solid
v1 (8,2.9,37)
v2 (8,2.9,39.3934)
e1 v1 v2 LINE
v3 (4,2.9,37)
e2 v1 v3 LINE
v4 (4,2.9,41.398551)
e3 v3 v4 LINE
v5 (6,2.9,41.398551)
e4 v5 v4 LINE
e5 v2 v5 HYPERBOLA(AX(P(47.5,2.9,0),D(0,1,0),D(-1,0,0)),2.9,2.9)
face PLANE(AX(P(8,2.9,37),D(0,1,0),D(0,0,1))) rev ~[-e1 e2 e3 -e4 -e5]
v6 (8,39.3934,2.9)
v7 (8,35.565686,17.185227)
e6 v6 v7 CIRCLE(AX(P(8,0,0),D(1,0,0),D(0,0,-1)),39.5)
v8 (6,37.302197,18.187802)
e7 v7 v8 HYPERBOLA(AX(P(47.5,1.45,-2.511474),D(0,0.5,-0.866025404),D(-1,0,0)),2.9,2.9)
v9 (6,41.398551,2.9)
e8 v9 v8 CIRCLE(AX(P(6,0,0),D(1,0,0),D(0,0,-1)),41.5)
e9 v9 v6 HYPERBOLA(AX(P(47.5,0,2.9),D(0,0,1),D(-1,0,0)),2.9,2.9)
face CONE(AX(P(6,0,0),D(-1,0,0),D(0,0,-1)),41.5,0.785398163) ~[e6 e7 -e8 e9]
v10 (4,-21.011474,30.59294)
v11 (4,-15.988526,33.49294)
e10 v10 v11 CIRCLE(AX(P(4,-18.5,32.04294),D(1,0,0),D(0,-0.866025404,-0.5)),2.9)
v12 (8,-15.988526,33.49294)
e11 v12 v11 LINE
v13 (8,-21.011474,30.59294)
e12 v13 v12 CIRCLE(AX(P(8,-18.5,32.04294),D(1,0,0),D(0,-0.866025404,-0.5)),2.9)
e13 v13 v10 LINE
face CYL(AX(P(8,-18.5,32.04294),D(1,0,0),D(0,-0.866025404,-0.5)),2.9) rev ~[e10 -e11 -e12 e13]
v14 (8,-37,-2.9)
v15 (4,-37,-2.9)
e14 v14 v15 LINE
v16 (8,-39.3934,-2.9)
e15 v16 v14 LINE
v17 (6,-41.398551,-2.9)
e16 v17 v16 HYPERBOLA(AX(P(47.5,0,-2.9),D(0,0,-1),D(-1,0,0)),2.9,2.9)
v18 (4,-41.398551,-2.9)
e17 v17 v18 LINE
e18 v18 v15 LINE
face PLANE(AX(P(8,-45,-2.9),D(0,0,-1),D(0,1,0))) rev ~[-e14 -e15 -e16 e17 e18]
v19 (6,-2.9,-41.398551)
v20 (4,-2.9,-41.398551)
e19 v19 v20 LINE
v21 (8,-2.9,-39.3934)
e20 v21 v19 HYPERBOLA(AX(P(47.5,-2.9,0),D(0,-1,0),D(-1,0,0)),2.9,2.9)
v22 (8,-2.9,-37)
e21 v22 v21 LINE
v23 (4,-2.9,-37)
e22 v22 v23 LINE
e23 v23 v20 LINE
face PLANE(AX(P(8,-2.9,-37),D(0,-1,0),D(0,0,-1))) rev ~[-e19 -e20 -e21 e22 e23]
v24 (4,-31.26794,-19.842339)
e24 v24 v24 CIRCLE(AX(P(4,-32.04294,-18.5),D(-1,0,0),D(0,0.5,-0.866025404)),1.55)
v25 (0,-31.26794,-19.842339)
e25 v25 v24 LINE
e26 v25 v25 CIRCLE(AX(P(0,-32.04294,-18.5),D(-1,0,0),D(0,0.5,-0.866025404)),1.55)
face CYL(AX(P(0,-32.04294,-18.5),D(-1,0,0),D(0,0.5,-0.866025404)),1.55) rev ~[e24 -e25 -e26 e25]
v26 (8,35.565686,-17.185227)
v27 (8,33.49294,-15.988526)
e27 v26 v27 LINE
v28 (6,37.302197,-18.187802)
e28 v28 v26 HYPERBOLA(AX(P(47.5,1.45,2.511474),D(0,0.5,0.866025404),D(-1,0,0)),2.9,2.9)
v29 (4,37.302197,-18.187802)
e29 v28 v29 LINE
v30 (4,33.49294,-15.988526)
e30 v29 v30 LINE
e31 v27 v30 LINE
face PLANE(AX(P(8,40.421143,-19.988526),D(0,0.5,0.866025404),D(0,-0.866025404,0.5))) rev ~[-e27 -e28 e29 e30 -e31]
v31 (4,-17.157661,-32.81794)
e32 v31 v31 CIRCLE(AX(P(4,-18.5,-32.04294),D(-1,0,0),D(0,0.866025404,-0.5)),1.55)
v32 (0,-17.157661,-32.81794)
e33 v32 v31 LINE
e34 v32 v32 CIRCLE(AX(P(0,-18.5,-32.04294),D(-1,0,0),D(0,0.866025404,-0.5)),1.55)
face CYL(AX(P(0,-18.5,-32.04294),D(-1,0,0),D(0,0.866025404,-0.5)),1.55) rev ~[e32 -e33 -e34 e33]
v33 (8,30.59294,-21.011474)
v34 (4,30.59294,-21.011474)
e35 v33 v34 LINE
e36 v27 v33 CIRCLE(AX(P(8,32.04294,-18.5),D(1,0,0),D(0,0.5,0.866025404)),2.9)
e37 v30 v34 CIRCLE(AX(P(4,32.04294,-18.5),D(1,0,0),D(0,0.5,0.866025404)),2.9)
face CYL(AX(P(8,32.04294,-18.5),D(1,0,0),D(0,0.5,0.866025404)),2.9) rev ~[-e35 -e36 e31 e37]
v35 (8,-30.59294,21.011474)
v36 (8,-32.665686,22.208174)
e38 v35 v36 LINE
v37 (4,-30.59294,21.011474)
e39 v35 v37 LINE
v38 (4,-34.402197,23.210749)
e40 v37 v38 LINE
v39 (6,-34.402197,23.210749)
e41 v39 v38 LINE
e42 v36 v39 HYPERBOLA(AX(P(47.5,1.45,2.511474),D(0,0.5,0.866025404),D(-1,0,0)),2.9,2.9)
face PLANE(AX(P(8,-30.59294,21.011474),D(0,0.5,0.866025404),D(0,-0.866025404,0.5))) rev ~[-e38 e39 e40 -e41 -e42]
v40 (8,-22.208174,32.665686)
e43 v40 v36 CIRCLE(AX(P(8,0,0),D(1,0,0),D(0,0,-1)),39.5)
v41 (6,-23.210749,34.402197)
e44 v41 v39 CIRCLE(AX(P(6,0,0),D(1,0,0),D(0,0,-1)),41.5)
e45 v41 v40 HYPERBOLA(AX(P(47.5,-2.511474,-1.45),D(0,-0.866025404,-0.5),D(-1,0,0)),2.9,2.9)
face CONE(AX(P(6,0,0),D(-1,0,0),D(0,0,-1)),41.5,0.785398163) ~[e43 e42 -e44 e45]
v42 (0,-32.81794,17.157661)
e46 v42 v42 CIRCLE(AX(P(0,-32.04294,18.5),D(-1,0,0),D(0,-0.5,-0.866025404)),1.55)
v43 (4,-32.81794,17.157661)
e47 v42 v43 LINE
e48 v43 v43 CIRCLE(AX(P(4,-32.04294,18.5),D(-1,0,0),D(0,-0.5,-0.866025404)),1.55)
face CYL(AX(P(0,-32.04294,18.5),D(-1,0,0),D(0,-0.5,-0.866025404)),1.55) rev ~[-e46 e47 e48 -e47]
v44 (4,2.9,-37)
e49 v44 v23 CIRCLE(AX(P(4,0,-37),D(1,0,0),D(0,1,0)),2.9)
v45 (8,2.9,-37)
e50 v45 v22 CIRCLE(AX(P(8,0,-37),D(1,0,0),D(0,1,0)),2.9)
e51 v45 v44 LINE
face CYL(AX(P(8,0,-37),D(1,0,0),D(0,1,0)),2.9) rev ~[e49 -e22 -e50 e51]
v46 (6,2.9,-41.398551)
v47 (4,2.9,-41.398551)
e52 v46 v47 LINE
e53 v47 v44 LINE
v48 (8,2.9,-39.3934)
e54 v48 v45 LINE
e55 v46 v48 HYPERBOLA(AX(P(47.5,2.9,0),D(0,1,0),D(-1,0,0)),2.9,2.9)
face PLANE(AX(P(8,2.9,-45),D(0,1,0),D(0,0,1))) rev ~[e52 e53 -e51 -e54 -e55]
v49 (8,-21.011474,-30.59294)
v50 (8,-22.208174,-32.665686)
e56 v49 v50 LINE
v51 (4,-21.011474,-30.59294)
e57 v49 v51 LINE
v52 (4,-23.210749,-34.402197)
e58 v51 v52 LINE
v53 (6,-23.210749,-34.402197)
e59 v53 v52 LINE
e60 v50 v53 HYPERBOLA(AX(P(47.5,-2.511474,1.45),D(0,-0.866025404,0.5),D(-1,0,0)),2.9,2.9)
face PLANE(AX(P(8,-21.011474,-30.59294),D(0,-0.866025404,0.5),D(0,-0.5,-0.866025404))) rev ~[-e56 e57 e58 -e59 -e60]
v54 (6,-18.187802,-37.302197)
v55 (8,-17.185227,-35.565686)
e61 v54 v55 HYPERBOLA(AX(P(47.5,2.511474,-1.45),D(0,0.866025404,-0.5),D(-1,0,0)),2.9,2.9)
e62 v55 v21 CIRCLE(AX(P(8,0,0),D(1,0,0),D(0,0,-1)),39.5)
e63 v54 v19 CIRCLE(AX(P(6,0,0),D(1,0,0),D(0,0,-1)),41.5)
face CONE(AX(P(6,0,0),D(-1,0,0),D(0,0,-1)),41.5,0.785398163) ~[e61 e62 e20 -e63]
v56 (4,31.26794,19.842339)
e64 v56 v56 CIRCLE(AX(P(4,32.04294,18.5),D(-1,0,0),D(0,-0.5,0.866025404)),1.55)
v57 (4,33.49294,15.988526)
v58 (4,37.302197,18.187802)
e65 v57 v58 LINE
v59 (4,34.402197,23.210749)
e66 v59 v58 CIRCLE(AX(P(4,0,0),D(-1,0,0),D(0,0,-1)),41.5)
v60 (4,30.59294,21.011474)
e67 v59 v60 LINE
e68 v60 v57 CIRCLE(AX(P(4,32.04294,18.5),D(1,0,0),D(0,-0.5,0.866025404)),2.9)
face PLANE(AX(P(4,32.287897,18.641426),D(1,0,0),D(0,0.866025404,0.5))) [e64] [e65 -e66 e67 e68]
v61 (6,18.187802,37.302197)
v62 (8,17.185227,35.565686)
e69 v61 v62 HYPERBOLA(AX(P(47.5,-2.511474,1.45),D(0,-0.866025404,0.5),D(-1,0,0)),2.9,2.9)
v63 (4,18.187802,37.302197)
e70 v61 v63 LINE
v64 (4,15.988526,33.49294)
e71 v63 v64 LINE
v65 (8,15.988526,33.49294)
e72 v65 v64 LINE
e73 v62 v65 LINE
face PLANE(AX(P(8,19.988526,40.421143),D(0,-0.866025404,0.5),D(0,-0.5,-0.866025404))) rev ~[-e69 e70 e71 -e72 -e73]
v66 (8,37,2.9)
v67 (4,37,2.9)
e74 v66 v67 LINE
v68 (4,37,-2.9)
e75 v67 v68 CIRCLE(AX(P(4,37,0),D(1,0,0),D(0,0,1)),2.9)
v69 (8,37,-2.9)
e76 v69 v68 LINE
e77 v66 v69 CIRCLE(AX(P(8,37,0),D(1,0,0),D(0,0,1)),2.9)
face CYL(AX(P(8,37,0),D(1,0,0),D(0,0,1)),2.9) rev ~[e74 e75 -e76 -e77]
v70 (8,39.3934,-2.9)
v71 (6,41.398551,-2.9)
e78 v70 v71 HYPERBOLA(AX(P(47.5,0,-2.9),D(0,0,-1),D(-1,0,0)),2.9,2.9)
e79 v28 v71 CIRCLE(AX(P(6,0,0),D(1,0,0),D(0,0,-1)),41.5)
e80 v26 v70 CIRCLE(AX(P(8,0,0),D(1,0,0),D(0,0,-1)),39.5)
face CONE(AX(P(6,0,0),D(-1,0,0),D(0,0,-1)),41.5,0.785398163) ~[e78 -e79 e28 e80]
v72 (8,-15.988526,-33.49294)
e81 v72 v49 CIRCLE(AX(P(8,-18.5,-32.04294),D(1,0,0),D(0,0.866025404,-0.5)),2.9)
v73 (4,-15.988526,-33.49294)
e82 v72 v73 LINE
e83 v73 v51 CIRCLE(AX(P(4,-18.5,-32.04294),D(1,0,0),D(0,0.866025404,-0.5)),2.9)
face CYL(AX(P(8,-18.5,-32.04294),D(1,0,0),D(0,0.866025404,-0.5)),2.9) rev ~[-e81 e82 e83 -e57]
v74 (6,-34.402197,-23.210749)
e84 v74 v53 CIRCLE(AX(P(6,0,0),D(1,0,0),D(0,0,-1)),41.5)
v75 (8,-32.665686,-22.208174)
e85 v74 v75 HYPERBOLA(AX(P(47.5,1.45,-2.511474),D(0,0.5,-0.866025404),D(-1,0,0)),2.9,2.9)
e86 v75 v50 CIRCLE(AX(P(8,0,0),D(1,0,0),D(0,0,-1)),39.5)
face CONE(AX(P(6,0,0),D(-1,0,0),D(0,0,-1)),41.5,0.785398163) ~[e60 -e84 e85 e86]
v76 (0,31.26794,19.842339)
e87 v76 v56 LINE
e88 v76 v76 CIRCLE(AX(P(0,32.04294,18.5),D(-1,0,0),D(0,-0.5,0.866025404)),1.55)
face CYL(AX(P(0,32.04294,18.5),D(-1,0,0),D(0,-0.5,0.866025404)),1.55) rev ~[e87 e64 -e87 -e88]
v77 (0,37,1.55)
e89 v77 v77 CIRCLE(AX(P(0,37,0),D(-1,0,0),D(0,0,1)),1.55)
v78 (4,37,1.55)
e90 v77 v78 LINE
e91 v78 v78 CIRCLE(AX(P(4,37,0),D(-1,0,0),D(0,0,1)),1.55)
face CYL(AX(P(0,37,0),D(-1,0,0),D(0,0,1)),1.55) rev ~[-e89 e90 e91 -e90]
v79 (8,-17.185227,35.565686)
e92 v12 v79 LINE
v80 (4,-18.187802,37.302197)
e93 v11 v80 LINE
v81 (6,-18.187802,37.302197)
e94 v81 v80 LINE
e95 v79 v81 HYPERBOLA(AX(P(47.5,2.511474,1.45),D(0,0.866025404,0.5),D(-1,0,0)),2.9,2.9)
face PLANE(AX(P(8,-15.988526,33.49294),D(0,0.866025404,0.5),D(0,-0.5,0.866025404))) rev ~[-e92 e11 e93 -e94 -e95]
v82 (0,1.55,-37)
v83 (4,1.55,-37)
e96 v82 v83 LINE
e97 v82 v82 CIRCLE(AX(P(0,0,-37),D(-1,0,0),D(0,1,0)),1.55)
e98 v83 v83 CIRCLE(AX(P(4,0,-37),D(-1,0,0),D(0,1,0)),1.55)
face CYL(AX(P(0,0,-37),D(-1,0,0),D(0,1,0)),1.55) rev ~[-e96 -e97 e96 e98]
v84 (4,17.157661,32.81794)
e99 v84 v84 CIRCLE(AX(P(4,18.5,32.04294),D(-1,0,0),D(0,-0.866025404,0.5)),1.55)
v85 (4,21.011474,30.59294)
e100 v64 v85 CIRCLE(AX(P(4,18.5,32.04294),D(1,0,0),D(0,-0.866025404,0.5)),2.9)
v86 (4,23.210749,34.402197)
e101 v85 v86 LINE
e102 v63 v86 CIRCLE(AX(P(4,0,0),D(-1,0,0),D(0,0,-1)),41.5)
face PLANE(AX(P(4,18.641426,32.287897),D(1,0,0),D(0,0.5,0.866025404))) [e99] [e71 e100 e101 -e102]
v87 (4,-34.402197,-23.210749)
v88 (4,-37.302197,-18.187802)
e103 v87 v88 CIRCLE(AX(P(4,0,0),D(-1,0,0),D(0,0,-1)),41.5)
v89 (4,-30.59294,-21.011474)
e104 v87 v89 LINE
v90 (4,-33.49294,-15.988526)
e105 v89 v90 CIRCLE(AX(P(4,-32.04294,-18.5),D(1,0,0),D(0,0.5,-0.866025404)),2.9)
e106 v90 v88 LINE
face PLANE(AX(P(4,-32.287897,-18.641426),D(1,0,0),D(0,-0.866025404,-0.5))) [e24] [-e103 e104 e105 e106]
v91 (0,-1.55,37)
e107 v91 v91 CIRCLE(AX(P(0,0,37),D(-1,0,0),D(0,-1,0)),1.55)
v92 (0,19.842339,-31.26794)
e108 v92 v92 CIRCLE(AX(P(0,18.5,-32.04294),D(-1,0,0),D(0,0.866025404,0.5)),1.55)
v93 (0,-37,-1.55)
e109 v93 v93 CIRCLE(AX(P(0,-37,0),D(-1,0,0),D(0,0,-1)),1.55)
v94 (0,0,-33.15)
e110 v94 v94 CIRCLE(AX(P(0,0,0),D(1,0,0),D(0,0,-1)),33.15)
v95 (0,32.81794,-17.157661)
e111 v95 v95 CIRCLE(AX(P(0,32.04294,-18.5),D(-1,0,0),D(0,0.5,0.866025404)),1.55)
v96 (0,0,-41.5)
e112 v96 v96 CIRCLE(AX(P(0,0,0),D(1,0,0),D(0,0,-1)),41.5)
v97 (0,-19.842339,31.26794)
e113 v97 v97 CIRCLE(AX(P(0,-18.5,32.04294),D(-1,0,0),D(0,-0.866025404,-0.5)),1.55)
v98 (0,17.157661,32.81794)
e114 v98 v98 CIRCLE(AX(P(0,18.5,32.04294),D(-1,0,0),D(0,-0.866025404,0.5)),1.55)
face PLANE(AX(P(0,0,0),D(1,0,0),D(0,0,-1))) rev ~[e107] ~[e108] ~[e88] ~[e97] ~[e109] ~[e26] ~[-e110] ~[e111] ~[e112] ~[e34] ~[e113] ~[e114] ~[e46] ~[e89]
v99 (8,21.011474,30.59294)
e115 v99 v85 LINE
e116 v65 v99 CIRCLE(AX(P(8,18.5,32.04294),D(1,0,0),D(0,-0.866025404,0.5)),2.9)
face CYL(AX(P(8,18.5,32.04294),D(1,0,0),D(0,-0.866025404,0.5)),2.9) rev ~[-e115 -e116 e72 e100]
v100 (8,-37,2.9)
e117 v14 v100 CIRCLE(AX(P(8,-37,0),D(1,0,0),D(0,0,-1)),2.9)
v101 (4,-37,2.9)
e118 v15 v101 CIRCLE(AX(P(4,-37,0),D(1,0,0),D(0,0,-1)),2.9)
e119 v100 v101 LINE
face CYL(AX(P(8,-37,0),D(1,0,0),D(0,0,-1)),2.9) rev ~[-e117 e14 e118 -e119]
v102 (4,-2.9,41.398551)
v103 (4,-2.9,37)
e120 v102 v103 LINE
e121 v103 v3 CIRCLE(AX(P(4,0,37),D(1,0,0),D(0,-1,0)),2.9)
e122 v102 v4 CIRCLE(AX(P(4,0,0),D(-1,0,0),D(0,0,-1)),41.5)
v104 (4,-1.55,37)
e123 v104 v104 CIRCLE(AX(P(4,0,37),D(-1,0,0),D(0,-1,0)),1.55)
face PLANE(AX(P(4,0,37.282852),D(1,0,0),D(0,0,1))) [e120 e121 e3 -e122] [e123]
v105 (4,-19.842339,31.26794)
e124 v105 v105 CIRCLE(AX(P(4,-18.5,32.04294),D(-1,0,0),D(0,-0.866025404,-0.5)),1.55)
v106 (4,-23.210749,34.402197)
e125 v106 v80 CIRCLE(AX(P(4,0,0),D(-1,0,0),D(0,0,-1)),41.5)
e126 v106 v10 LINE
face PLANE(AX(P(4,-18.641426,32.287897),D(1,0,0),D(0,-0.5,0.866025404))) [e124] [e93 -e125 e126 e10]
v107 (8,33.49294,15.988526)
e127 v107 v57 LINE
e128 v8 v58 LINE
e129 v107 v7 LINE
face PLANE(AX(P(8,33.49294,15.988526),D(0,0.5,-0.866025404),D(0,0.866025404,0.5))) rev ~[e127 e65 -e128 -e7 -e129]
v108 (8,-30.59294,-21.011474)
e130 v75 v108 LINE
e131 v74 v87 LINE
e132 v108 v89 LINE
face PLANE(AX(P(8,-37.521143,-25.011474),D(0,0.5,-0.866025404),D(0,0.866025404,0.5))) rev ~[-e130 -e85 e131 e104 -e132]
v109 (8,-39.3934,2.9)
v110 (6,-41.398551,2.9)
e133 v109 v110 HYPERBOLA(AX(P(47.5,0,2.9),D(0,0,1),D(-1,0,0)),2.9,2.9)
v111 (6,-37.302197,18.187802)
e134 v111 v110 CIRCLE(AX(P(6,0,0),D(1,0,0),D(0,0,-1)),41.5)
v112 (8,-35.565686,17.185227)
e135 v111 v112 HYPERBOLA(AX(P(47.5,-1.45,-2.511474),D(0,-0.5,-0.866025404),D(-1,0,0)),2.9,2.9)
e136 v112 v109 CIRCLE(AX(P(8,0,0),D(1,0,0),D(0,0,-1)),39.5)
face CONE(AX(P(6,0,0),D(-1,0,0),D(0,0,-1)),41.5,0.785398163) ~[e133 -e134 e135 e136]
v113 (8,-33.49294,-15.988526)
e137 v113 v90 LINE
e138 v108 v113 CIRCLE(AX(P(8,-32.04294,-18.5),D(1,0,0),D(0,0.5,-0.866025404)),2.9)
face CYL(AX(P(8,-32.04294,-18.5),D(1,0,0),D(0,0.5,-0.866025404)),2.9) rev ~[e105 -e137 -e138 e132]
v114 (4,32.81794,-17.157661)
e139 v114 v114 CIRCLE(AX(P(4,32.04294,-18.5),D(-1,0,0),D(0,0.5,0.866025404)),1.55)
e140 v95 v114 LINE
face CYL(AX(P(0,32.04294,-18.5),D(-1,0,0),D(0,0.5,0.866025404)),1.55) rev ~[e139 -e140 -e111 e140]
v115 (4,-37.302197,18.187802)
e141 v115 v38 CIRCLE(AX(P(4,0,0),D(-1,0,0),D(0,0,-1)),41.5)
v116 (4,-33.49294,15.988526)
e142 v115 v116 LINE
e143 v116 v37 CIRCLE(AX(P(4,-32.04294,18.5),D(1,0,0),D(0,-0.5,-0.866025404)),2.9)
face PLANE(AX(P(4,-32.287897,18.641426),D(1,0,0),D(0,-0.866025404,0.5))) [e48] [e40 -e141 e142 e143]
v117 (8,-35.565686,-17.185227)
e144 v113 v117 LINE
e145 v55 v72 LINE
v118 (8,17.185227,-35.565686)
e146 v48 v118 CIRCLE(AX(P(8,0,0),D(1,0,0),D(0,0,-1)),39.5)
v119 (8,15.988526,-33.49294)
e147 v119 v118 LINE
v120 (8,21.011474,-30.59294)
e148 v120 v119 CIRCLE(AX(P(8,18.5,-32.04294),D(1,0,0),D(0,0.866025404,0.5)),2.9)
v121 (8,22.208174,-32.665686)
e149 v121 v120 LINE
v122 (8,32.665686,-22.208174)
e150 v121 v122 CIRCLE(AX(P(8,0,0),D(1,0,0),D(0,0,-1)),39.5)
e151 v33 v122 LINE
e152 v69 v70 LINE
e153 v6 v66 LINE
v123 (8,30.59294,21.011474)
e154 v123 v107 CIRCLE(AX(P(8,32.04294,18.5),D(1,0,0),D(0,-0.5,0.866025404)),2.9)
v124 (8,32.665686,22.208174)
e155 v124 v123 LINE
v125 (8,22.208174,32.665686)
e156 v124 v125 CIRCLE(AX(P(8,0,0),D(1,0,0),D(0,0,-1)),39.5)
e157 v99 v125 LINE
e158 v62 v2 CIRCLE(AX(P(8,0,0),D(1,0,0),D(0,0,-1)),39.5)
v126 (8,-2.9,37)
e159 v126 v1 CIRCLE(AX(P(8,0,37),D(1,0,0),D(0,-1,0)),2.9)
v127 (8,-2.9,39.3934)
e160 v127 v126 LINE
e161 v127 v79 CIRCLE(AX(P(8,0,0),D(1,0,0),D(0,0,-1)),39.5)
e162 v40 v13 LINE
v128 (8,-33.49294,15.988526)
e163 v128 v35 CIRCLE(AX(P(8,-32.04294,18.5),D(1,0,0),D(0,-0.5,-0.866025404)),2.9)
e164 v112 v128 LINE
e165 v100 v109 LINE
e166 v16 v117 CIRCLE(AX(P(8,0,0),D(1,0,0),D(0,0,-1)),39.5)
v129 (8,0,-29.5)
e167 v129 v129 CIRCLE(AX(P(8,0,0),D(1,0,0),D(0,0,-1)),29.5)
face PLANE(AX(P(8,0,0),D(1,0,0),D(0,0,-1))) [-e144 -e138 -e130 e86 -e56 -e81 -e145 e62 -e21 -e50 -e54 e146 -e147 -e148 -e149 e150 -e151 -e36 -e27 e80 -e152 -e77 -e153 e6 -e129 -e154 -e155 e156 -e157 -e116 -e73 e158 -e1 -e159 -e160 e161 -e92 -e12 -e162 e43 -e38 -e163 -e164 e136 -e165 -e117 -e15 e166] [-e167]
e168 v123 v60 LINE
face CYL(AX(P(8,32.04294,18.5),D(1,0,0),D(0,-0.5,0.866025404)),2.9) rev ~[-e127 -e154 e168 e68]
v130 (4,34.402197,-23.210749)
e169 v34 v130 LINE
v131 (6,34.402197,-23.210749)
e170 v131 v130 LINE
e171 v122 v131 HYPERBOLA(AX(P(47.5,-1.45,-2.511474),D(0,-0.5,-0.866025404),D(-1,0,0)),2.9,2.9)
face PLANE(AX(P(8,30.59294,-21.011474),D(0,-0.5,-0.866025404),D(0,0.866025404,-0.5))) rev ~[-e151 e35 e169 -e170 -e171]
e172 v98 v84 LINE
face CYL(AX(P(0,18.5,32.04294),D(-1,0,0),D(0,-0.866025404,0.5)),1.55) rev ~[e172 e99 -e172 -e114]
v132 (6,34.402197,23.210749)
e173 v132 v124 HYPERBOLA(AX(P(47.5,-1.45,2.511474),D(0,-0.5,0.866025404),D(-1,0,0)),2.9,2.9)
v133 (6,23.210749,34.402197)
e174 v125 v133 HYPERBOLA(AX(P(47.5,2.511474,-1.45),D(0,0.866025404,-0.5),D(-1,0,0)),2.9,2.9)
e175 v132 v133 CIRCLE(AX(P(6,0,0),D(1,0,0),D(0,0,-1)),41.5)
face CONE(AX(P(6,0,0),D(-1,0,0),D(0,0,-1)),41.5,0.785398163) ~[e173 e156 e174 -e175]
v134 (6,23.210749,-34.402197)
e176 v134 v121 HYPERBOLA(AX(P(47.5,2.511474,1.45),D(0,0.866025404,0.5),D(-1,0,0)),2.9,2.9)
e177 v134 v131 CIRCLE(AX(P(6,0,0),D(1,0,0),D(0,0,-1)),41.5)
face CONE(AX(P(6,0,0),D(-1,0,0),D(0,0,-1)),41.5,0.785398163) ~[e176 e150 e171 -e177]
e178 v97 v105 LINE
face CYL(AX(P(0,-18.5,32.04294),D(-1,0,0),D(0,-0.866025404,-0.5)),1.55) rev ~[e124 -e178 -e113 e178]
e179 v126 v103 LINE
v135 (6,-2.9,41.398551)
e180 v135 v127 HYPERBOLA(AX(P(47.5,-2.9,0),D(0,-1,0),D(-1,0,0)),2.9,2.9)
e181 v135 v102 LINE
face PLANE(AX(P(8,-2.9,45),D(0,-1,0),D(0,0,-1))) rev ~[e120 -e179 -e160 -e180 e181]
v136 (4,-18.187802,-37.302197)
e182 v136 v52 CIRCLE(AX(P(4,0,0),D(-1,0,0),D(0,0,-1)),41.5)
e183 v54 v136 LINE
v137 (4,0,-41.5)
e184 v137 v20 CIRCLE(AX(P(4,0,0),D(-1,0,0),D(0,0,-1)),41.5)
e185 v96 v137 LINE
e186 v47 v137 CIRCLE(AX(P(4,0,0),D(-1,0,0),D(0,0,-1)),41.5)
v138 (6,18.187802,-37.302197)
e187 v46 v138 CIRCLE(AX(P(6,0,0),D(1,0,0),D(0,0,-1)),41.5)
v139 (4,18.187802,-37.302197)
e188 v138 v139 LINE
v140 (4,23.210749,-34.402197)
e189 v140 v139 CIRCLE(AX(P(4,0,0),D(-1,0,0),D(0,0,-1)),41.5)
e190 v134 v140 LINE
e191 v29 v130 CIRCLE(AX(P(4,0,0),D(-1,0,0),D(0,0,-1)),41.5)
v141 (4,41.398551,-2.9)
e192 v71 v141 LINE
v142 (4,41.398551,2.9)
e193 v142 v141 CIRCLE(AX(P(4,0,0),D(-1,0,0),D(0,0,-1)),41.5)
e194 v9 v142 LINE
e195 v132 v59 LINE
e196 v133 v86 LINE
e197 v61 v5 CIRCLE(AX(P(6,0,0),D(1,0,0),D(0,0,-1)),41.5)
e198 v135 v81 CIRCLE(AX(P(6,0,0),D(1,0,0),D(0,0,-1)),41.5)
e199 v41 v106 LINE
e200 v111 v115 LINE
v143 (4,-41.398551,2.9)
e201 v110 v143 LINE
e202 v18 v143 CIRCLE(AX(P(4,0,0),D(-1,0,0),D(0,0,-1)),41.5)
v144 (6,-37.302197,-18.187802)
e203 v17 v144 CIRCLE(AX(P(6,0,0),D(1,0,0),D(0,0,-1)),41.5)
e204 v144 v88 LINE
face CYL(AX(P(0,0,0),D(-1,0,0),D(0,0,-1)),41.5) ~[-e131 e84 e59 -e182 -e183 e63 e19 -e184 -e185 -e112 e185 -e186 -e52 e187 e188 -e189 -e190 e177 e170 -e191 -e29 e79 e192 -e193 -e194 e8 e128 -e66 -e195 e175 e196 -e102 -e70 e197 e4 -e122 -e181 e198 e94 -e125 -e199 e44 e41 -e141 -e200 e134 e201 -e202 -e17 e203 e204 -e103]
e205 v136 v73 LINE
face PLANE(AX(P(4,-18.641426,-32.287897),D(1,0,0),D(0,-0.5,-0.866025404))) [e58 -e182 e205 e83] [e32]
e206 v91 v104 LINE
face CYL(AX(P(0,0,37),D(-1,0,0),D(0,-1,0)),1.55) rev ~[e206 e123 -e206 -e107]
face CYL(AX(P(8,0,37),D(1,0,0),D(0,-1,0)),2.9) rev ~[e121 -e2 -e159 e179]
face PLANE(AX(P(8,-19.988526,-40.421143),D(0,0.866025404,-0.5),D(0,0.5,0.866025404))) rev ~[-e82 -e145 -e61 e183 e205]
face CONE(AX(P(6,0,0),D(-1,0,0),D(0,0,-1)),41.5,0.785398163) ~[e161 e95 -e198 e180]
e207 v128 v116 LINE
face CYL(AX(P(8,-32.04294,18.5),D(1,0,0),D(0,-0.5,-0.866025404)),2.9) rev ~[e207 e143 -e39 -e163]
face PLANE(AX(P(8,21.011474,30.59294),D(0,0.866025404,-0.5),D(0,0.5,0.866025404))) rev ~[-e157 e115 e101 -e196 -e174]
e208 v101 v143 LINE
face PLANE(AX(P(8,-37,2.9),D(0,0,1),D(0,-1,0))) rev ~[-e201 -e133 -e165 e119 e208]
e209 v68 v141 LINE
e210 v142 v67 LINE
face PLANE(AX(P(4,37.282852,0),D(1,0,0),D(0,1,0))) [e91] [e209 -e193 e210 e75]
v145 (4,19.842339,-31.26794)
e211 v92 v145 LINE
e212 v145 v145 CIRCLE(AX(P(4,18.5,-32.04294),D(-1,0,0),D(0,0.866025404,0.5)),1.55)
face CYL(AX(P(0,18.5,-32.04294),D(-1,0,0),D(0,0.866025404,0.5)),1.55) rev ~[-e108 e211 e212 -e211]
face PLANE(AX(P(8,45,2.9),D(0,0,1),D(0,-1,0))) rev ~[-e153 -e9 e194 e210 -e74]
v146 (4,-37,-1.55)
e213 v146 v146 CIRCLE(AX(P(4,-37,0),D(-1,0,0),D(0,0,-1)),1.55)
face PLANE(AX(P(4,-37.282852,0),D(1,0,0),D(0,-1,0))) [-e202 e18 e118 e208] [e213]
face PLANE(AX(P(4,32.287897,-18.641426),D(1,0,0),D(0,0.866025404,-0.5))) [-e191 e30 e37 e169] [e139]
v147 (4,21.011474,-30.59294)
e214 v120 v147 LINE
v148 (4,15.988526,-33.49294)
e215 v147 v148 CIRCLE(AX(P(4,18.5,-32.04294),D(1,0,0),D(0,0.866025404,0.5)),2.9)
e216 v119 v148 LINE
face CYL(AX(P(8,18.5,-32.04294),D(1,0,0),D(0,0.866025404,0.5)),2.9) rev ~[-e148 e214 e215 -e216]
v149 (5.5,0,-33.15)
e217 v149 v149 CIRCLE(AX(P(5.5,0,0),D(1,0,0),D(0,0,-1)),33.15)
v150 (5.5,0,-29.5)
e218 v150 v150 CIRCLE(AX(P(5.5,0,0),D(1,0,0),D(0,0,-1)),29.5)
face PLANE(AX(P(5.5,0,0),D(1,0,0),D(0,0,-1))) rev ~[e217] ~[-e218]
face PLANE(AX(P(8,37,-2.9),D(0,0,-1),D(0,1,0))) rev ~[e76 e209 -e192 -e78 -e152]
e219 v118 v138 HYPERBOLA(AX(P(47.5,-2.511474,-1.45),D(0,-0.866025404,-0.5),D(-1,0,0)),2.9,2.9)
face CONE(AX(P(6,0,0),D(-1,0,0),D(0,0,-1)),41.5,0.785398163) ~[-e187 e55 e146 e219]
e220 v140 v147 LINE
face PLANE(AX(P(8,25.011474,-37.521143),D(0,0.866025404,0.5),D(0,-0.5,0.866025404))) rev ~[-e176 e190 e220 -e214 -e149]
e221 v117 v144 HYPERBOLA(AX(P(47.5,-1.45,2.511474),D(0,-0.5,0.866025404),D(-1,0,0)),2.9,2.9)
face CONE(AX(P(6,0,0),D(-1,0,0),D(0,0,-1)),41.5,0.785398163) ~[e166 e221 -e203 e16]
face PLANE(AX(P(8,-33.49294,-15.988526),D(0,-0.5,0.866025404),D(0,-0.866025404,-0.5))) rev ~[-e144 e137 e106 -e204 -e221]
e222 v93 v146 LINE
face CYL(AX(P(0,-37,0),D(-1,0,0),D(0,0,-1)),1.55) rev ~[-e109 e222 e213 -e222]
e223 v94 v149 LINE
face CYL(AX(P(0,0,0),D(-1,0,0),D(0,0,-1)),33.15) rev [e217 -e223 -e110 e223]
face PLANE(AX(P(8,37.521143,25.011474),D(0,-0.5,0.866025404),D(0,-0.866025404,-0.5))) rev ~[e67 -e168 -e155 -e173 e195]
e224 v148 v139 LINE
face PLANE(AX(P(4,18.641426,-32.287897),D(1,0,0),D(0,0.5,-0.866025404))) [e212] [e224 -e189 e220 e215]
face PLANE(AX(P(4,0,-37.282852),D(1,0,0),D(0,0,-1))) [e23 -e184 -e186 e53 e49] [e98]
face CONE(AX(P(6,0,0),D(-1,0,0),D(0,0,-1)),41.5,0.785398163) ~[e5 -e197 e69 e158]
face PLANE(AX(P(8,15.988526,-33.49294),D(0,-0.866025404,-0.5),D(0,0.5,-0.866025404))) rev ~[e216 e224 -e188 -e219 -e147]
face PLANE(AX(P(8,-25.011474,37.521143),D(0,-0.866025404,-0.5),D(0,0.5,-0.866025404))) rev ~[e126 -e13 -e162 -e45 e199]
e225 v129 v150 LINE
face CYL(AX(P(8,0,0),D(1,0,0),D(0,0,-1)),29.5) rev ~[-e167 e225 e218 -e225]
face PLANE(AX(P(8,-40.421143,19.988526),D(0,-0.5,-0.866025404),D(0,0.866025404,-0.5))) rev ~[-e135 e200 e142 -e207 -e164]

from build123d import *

# Parameters (mm, degrees)
SKETCH_1_R               = 41.5
SKETCH_1_R_2             = 33.15
EXTRUDE_1_DEPTH          = 8
SKETCH_2_R               = 1.55
CUT_EXTRUDE_1_DEPTH      = 8
PATTERN_CIRCULAR_1_COUNT = 12
SKETCH_3_R               = 33.15
SKETCH_3_R_2             = 29.5
EXTRUDE_2_DEPTH          = 2.5
CHAMFER_1_SIZE           = 2
SKETCH_4_R               = 1.55
CUT_EXTRUDE_8_DEPTH      = 4
PATTERN_CIRCULAR_7_COUNT = 12


with BuildPart() as part:
    # 草图1 → 凸台-拉伸1 (new body)
    with BuildSketch(Plane(origin=(0, 0, 0), x_dir=(0, 0, -1), z_dir=(1, 0, 0))):
        Circle(SKETCH_1_R)
        Circle(SKETCH_1_R_2, mode=Mode.SUBTRACT)
    extrude(amount=EXTRUDE_1_DEPTH)

    # 草图2 → 切除-拉伸1 (cut)
    with BuildSketch(Plane.ZY):
        with Locations((0, 37)):
            Circle(SKETCH_2_R)
    cut_extrude_1 = extrude(amount=-CUT_EXTRUDE_1_DEPTH, mode=Mode.SUBTRACT)

    # 阵列(圆周)1: 切除-拉伸1 ×12 about axis
    pattern_circular_1_axis = Axis((0, 0, 0), (1, 0, 0))
    for i in range(1, PATTERN_CIRCULAR_1_COUNT):
        add(cut_extrude_1.rotate(pattern_circular_1_axis, i * 360 / PATTERN_CIRCULAR_1_COUNT), mode=Mode.SUBTRACT)

    # 草图3 → 凸台-拉伸2 (add)
    with BuildSketch(Plane(origin=(8, 0, 0), x_dir=(0, 0, -1), z_dir=(1, 0, 0))):
        Circle(SKETCH_3_R)
        Circle(SKETCH_3_R_2, mode=Mode.SUBTRACT)
    extrude(amount=-EXTRUDE_2_DEPTH)

    # 倒角1
    chamfer_1_edges = [part.edges().sort_by_distance(p)[0] for p in [
        (8, 0, 41.5),
    ]]
    chamfer(chamfer_1_edges, length=CHAMFER_1_SIZE)

    # 草图4 → 切除-拉伸8 (cut)
    with BuildSketch(Plane(origin=(8, 0, 0), x_dir=(0, 0, -1), z_dir=(1, 0, 0))):
        with BuildLine():
            Line((39.393400463, 2.9), (37, 2.9))
            ThreePointArc((37, 2.9), (34.1, 0), (37, -2.9))
            Line((37, -2.9), (39.393400463, -2.9))
            ThreePointArc((39.393400463, -2.9), (39.473341119, -1.450979278), (39.5, 0))
            ThreePointArc((39.5, 0), (39.473341119, 1.450979278), (39.393400463, 2.9))
        make_face()
        with Locations((37, 0)):
            Circle(SKETCH_4_R, mode=Mode.SUBTRACT)
        with BuildLine():
            Line((45, 2.9), (39.393400463, 2.9))
            ThreePointArc((39.393400463, 2.9), (39.473341119, 1.450979278), (39.5, 0))
            ThreePointArc((39.5, 0), (39.473341119, -1.450979278), (39.393400463, -2.9))
            Line((39.393400463, -2.9), (45, -2.9))
            ThreePointArc((45, -2.9), (47.9, 0), (45, 2.9))
        make_face()
    cut_extrude_8 = extrude(amount=-CUT_EXTRUDE_8_DEPTH, mode=Mode.SUBTRACT)

    # 阵列(圆周)7: 切除-拉伸8 ×12 about axis
    pattern_circular_7_axis = Axis((0, 0, 0), (1, 0, 0))
    for i in range(1, PATTERN_CIRCULAR_7_COUNT):
        add(cut_extrude_8.rotate(pattern_circular_7_axis, i * 360 / PATTERN_CIRCULAR_7_COUNT), mode=Mode.SUBTRACT)


solid = part.part
